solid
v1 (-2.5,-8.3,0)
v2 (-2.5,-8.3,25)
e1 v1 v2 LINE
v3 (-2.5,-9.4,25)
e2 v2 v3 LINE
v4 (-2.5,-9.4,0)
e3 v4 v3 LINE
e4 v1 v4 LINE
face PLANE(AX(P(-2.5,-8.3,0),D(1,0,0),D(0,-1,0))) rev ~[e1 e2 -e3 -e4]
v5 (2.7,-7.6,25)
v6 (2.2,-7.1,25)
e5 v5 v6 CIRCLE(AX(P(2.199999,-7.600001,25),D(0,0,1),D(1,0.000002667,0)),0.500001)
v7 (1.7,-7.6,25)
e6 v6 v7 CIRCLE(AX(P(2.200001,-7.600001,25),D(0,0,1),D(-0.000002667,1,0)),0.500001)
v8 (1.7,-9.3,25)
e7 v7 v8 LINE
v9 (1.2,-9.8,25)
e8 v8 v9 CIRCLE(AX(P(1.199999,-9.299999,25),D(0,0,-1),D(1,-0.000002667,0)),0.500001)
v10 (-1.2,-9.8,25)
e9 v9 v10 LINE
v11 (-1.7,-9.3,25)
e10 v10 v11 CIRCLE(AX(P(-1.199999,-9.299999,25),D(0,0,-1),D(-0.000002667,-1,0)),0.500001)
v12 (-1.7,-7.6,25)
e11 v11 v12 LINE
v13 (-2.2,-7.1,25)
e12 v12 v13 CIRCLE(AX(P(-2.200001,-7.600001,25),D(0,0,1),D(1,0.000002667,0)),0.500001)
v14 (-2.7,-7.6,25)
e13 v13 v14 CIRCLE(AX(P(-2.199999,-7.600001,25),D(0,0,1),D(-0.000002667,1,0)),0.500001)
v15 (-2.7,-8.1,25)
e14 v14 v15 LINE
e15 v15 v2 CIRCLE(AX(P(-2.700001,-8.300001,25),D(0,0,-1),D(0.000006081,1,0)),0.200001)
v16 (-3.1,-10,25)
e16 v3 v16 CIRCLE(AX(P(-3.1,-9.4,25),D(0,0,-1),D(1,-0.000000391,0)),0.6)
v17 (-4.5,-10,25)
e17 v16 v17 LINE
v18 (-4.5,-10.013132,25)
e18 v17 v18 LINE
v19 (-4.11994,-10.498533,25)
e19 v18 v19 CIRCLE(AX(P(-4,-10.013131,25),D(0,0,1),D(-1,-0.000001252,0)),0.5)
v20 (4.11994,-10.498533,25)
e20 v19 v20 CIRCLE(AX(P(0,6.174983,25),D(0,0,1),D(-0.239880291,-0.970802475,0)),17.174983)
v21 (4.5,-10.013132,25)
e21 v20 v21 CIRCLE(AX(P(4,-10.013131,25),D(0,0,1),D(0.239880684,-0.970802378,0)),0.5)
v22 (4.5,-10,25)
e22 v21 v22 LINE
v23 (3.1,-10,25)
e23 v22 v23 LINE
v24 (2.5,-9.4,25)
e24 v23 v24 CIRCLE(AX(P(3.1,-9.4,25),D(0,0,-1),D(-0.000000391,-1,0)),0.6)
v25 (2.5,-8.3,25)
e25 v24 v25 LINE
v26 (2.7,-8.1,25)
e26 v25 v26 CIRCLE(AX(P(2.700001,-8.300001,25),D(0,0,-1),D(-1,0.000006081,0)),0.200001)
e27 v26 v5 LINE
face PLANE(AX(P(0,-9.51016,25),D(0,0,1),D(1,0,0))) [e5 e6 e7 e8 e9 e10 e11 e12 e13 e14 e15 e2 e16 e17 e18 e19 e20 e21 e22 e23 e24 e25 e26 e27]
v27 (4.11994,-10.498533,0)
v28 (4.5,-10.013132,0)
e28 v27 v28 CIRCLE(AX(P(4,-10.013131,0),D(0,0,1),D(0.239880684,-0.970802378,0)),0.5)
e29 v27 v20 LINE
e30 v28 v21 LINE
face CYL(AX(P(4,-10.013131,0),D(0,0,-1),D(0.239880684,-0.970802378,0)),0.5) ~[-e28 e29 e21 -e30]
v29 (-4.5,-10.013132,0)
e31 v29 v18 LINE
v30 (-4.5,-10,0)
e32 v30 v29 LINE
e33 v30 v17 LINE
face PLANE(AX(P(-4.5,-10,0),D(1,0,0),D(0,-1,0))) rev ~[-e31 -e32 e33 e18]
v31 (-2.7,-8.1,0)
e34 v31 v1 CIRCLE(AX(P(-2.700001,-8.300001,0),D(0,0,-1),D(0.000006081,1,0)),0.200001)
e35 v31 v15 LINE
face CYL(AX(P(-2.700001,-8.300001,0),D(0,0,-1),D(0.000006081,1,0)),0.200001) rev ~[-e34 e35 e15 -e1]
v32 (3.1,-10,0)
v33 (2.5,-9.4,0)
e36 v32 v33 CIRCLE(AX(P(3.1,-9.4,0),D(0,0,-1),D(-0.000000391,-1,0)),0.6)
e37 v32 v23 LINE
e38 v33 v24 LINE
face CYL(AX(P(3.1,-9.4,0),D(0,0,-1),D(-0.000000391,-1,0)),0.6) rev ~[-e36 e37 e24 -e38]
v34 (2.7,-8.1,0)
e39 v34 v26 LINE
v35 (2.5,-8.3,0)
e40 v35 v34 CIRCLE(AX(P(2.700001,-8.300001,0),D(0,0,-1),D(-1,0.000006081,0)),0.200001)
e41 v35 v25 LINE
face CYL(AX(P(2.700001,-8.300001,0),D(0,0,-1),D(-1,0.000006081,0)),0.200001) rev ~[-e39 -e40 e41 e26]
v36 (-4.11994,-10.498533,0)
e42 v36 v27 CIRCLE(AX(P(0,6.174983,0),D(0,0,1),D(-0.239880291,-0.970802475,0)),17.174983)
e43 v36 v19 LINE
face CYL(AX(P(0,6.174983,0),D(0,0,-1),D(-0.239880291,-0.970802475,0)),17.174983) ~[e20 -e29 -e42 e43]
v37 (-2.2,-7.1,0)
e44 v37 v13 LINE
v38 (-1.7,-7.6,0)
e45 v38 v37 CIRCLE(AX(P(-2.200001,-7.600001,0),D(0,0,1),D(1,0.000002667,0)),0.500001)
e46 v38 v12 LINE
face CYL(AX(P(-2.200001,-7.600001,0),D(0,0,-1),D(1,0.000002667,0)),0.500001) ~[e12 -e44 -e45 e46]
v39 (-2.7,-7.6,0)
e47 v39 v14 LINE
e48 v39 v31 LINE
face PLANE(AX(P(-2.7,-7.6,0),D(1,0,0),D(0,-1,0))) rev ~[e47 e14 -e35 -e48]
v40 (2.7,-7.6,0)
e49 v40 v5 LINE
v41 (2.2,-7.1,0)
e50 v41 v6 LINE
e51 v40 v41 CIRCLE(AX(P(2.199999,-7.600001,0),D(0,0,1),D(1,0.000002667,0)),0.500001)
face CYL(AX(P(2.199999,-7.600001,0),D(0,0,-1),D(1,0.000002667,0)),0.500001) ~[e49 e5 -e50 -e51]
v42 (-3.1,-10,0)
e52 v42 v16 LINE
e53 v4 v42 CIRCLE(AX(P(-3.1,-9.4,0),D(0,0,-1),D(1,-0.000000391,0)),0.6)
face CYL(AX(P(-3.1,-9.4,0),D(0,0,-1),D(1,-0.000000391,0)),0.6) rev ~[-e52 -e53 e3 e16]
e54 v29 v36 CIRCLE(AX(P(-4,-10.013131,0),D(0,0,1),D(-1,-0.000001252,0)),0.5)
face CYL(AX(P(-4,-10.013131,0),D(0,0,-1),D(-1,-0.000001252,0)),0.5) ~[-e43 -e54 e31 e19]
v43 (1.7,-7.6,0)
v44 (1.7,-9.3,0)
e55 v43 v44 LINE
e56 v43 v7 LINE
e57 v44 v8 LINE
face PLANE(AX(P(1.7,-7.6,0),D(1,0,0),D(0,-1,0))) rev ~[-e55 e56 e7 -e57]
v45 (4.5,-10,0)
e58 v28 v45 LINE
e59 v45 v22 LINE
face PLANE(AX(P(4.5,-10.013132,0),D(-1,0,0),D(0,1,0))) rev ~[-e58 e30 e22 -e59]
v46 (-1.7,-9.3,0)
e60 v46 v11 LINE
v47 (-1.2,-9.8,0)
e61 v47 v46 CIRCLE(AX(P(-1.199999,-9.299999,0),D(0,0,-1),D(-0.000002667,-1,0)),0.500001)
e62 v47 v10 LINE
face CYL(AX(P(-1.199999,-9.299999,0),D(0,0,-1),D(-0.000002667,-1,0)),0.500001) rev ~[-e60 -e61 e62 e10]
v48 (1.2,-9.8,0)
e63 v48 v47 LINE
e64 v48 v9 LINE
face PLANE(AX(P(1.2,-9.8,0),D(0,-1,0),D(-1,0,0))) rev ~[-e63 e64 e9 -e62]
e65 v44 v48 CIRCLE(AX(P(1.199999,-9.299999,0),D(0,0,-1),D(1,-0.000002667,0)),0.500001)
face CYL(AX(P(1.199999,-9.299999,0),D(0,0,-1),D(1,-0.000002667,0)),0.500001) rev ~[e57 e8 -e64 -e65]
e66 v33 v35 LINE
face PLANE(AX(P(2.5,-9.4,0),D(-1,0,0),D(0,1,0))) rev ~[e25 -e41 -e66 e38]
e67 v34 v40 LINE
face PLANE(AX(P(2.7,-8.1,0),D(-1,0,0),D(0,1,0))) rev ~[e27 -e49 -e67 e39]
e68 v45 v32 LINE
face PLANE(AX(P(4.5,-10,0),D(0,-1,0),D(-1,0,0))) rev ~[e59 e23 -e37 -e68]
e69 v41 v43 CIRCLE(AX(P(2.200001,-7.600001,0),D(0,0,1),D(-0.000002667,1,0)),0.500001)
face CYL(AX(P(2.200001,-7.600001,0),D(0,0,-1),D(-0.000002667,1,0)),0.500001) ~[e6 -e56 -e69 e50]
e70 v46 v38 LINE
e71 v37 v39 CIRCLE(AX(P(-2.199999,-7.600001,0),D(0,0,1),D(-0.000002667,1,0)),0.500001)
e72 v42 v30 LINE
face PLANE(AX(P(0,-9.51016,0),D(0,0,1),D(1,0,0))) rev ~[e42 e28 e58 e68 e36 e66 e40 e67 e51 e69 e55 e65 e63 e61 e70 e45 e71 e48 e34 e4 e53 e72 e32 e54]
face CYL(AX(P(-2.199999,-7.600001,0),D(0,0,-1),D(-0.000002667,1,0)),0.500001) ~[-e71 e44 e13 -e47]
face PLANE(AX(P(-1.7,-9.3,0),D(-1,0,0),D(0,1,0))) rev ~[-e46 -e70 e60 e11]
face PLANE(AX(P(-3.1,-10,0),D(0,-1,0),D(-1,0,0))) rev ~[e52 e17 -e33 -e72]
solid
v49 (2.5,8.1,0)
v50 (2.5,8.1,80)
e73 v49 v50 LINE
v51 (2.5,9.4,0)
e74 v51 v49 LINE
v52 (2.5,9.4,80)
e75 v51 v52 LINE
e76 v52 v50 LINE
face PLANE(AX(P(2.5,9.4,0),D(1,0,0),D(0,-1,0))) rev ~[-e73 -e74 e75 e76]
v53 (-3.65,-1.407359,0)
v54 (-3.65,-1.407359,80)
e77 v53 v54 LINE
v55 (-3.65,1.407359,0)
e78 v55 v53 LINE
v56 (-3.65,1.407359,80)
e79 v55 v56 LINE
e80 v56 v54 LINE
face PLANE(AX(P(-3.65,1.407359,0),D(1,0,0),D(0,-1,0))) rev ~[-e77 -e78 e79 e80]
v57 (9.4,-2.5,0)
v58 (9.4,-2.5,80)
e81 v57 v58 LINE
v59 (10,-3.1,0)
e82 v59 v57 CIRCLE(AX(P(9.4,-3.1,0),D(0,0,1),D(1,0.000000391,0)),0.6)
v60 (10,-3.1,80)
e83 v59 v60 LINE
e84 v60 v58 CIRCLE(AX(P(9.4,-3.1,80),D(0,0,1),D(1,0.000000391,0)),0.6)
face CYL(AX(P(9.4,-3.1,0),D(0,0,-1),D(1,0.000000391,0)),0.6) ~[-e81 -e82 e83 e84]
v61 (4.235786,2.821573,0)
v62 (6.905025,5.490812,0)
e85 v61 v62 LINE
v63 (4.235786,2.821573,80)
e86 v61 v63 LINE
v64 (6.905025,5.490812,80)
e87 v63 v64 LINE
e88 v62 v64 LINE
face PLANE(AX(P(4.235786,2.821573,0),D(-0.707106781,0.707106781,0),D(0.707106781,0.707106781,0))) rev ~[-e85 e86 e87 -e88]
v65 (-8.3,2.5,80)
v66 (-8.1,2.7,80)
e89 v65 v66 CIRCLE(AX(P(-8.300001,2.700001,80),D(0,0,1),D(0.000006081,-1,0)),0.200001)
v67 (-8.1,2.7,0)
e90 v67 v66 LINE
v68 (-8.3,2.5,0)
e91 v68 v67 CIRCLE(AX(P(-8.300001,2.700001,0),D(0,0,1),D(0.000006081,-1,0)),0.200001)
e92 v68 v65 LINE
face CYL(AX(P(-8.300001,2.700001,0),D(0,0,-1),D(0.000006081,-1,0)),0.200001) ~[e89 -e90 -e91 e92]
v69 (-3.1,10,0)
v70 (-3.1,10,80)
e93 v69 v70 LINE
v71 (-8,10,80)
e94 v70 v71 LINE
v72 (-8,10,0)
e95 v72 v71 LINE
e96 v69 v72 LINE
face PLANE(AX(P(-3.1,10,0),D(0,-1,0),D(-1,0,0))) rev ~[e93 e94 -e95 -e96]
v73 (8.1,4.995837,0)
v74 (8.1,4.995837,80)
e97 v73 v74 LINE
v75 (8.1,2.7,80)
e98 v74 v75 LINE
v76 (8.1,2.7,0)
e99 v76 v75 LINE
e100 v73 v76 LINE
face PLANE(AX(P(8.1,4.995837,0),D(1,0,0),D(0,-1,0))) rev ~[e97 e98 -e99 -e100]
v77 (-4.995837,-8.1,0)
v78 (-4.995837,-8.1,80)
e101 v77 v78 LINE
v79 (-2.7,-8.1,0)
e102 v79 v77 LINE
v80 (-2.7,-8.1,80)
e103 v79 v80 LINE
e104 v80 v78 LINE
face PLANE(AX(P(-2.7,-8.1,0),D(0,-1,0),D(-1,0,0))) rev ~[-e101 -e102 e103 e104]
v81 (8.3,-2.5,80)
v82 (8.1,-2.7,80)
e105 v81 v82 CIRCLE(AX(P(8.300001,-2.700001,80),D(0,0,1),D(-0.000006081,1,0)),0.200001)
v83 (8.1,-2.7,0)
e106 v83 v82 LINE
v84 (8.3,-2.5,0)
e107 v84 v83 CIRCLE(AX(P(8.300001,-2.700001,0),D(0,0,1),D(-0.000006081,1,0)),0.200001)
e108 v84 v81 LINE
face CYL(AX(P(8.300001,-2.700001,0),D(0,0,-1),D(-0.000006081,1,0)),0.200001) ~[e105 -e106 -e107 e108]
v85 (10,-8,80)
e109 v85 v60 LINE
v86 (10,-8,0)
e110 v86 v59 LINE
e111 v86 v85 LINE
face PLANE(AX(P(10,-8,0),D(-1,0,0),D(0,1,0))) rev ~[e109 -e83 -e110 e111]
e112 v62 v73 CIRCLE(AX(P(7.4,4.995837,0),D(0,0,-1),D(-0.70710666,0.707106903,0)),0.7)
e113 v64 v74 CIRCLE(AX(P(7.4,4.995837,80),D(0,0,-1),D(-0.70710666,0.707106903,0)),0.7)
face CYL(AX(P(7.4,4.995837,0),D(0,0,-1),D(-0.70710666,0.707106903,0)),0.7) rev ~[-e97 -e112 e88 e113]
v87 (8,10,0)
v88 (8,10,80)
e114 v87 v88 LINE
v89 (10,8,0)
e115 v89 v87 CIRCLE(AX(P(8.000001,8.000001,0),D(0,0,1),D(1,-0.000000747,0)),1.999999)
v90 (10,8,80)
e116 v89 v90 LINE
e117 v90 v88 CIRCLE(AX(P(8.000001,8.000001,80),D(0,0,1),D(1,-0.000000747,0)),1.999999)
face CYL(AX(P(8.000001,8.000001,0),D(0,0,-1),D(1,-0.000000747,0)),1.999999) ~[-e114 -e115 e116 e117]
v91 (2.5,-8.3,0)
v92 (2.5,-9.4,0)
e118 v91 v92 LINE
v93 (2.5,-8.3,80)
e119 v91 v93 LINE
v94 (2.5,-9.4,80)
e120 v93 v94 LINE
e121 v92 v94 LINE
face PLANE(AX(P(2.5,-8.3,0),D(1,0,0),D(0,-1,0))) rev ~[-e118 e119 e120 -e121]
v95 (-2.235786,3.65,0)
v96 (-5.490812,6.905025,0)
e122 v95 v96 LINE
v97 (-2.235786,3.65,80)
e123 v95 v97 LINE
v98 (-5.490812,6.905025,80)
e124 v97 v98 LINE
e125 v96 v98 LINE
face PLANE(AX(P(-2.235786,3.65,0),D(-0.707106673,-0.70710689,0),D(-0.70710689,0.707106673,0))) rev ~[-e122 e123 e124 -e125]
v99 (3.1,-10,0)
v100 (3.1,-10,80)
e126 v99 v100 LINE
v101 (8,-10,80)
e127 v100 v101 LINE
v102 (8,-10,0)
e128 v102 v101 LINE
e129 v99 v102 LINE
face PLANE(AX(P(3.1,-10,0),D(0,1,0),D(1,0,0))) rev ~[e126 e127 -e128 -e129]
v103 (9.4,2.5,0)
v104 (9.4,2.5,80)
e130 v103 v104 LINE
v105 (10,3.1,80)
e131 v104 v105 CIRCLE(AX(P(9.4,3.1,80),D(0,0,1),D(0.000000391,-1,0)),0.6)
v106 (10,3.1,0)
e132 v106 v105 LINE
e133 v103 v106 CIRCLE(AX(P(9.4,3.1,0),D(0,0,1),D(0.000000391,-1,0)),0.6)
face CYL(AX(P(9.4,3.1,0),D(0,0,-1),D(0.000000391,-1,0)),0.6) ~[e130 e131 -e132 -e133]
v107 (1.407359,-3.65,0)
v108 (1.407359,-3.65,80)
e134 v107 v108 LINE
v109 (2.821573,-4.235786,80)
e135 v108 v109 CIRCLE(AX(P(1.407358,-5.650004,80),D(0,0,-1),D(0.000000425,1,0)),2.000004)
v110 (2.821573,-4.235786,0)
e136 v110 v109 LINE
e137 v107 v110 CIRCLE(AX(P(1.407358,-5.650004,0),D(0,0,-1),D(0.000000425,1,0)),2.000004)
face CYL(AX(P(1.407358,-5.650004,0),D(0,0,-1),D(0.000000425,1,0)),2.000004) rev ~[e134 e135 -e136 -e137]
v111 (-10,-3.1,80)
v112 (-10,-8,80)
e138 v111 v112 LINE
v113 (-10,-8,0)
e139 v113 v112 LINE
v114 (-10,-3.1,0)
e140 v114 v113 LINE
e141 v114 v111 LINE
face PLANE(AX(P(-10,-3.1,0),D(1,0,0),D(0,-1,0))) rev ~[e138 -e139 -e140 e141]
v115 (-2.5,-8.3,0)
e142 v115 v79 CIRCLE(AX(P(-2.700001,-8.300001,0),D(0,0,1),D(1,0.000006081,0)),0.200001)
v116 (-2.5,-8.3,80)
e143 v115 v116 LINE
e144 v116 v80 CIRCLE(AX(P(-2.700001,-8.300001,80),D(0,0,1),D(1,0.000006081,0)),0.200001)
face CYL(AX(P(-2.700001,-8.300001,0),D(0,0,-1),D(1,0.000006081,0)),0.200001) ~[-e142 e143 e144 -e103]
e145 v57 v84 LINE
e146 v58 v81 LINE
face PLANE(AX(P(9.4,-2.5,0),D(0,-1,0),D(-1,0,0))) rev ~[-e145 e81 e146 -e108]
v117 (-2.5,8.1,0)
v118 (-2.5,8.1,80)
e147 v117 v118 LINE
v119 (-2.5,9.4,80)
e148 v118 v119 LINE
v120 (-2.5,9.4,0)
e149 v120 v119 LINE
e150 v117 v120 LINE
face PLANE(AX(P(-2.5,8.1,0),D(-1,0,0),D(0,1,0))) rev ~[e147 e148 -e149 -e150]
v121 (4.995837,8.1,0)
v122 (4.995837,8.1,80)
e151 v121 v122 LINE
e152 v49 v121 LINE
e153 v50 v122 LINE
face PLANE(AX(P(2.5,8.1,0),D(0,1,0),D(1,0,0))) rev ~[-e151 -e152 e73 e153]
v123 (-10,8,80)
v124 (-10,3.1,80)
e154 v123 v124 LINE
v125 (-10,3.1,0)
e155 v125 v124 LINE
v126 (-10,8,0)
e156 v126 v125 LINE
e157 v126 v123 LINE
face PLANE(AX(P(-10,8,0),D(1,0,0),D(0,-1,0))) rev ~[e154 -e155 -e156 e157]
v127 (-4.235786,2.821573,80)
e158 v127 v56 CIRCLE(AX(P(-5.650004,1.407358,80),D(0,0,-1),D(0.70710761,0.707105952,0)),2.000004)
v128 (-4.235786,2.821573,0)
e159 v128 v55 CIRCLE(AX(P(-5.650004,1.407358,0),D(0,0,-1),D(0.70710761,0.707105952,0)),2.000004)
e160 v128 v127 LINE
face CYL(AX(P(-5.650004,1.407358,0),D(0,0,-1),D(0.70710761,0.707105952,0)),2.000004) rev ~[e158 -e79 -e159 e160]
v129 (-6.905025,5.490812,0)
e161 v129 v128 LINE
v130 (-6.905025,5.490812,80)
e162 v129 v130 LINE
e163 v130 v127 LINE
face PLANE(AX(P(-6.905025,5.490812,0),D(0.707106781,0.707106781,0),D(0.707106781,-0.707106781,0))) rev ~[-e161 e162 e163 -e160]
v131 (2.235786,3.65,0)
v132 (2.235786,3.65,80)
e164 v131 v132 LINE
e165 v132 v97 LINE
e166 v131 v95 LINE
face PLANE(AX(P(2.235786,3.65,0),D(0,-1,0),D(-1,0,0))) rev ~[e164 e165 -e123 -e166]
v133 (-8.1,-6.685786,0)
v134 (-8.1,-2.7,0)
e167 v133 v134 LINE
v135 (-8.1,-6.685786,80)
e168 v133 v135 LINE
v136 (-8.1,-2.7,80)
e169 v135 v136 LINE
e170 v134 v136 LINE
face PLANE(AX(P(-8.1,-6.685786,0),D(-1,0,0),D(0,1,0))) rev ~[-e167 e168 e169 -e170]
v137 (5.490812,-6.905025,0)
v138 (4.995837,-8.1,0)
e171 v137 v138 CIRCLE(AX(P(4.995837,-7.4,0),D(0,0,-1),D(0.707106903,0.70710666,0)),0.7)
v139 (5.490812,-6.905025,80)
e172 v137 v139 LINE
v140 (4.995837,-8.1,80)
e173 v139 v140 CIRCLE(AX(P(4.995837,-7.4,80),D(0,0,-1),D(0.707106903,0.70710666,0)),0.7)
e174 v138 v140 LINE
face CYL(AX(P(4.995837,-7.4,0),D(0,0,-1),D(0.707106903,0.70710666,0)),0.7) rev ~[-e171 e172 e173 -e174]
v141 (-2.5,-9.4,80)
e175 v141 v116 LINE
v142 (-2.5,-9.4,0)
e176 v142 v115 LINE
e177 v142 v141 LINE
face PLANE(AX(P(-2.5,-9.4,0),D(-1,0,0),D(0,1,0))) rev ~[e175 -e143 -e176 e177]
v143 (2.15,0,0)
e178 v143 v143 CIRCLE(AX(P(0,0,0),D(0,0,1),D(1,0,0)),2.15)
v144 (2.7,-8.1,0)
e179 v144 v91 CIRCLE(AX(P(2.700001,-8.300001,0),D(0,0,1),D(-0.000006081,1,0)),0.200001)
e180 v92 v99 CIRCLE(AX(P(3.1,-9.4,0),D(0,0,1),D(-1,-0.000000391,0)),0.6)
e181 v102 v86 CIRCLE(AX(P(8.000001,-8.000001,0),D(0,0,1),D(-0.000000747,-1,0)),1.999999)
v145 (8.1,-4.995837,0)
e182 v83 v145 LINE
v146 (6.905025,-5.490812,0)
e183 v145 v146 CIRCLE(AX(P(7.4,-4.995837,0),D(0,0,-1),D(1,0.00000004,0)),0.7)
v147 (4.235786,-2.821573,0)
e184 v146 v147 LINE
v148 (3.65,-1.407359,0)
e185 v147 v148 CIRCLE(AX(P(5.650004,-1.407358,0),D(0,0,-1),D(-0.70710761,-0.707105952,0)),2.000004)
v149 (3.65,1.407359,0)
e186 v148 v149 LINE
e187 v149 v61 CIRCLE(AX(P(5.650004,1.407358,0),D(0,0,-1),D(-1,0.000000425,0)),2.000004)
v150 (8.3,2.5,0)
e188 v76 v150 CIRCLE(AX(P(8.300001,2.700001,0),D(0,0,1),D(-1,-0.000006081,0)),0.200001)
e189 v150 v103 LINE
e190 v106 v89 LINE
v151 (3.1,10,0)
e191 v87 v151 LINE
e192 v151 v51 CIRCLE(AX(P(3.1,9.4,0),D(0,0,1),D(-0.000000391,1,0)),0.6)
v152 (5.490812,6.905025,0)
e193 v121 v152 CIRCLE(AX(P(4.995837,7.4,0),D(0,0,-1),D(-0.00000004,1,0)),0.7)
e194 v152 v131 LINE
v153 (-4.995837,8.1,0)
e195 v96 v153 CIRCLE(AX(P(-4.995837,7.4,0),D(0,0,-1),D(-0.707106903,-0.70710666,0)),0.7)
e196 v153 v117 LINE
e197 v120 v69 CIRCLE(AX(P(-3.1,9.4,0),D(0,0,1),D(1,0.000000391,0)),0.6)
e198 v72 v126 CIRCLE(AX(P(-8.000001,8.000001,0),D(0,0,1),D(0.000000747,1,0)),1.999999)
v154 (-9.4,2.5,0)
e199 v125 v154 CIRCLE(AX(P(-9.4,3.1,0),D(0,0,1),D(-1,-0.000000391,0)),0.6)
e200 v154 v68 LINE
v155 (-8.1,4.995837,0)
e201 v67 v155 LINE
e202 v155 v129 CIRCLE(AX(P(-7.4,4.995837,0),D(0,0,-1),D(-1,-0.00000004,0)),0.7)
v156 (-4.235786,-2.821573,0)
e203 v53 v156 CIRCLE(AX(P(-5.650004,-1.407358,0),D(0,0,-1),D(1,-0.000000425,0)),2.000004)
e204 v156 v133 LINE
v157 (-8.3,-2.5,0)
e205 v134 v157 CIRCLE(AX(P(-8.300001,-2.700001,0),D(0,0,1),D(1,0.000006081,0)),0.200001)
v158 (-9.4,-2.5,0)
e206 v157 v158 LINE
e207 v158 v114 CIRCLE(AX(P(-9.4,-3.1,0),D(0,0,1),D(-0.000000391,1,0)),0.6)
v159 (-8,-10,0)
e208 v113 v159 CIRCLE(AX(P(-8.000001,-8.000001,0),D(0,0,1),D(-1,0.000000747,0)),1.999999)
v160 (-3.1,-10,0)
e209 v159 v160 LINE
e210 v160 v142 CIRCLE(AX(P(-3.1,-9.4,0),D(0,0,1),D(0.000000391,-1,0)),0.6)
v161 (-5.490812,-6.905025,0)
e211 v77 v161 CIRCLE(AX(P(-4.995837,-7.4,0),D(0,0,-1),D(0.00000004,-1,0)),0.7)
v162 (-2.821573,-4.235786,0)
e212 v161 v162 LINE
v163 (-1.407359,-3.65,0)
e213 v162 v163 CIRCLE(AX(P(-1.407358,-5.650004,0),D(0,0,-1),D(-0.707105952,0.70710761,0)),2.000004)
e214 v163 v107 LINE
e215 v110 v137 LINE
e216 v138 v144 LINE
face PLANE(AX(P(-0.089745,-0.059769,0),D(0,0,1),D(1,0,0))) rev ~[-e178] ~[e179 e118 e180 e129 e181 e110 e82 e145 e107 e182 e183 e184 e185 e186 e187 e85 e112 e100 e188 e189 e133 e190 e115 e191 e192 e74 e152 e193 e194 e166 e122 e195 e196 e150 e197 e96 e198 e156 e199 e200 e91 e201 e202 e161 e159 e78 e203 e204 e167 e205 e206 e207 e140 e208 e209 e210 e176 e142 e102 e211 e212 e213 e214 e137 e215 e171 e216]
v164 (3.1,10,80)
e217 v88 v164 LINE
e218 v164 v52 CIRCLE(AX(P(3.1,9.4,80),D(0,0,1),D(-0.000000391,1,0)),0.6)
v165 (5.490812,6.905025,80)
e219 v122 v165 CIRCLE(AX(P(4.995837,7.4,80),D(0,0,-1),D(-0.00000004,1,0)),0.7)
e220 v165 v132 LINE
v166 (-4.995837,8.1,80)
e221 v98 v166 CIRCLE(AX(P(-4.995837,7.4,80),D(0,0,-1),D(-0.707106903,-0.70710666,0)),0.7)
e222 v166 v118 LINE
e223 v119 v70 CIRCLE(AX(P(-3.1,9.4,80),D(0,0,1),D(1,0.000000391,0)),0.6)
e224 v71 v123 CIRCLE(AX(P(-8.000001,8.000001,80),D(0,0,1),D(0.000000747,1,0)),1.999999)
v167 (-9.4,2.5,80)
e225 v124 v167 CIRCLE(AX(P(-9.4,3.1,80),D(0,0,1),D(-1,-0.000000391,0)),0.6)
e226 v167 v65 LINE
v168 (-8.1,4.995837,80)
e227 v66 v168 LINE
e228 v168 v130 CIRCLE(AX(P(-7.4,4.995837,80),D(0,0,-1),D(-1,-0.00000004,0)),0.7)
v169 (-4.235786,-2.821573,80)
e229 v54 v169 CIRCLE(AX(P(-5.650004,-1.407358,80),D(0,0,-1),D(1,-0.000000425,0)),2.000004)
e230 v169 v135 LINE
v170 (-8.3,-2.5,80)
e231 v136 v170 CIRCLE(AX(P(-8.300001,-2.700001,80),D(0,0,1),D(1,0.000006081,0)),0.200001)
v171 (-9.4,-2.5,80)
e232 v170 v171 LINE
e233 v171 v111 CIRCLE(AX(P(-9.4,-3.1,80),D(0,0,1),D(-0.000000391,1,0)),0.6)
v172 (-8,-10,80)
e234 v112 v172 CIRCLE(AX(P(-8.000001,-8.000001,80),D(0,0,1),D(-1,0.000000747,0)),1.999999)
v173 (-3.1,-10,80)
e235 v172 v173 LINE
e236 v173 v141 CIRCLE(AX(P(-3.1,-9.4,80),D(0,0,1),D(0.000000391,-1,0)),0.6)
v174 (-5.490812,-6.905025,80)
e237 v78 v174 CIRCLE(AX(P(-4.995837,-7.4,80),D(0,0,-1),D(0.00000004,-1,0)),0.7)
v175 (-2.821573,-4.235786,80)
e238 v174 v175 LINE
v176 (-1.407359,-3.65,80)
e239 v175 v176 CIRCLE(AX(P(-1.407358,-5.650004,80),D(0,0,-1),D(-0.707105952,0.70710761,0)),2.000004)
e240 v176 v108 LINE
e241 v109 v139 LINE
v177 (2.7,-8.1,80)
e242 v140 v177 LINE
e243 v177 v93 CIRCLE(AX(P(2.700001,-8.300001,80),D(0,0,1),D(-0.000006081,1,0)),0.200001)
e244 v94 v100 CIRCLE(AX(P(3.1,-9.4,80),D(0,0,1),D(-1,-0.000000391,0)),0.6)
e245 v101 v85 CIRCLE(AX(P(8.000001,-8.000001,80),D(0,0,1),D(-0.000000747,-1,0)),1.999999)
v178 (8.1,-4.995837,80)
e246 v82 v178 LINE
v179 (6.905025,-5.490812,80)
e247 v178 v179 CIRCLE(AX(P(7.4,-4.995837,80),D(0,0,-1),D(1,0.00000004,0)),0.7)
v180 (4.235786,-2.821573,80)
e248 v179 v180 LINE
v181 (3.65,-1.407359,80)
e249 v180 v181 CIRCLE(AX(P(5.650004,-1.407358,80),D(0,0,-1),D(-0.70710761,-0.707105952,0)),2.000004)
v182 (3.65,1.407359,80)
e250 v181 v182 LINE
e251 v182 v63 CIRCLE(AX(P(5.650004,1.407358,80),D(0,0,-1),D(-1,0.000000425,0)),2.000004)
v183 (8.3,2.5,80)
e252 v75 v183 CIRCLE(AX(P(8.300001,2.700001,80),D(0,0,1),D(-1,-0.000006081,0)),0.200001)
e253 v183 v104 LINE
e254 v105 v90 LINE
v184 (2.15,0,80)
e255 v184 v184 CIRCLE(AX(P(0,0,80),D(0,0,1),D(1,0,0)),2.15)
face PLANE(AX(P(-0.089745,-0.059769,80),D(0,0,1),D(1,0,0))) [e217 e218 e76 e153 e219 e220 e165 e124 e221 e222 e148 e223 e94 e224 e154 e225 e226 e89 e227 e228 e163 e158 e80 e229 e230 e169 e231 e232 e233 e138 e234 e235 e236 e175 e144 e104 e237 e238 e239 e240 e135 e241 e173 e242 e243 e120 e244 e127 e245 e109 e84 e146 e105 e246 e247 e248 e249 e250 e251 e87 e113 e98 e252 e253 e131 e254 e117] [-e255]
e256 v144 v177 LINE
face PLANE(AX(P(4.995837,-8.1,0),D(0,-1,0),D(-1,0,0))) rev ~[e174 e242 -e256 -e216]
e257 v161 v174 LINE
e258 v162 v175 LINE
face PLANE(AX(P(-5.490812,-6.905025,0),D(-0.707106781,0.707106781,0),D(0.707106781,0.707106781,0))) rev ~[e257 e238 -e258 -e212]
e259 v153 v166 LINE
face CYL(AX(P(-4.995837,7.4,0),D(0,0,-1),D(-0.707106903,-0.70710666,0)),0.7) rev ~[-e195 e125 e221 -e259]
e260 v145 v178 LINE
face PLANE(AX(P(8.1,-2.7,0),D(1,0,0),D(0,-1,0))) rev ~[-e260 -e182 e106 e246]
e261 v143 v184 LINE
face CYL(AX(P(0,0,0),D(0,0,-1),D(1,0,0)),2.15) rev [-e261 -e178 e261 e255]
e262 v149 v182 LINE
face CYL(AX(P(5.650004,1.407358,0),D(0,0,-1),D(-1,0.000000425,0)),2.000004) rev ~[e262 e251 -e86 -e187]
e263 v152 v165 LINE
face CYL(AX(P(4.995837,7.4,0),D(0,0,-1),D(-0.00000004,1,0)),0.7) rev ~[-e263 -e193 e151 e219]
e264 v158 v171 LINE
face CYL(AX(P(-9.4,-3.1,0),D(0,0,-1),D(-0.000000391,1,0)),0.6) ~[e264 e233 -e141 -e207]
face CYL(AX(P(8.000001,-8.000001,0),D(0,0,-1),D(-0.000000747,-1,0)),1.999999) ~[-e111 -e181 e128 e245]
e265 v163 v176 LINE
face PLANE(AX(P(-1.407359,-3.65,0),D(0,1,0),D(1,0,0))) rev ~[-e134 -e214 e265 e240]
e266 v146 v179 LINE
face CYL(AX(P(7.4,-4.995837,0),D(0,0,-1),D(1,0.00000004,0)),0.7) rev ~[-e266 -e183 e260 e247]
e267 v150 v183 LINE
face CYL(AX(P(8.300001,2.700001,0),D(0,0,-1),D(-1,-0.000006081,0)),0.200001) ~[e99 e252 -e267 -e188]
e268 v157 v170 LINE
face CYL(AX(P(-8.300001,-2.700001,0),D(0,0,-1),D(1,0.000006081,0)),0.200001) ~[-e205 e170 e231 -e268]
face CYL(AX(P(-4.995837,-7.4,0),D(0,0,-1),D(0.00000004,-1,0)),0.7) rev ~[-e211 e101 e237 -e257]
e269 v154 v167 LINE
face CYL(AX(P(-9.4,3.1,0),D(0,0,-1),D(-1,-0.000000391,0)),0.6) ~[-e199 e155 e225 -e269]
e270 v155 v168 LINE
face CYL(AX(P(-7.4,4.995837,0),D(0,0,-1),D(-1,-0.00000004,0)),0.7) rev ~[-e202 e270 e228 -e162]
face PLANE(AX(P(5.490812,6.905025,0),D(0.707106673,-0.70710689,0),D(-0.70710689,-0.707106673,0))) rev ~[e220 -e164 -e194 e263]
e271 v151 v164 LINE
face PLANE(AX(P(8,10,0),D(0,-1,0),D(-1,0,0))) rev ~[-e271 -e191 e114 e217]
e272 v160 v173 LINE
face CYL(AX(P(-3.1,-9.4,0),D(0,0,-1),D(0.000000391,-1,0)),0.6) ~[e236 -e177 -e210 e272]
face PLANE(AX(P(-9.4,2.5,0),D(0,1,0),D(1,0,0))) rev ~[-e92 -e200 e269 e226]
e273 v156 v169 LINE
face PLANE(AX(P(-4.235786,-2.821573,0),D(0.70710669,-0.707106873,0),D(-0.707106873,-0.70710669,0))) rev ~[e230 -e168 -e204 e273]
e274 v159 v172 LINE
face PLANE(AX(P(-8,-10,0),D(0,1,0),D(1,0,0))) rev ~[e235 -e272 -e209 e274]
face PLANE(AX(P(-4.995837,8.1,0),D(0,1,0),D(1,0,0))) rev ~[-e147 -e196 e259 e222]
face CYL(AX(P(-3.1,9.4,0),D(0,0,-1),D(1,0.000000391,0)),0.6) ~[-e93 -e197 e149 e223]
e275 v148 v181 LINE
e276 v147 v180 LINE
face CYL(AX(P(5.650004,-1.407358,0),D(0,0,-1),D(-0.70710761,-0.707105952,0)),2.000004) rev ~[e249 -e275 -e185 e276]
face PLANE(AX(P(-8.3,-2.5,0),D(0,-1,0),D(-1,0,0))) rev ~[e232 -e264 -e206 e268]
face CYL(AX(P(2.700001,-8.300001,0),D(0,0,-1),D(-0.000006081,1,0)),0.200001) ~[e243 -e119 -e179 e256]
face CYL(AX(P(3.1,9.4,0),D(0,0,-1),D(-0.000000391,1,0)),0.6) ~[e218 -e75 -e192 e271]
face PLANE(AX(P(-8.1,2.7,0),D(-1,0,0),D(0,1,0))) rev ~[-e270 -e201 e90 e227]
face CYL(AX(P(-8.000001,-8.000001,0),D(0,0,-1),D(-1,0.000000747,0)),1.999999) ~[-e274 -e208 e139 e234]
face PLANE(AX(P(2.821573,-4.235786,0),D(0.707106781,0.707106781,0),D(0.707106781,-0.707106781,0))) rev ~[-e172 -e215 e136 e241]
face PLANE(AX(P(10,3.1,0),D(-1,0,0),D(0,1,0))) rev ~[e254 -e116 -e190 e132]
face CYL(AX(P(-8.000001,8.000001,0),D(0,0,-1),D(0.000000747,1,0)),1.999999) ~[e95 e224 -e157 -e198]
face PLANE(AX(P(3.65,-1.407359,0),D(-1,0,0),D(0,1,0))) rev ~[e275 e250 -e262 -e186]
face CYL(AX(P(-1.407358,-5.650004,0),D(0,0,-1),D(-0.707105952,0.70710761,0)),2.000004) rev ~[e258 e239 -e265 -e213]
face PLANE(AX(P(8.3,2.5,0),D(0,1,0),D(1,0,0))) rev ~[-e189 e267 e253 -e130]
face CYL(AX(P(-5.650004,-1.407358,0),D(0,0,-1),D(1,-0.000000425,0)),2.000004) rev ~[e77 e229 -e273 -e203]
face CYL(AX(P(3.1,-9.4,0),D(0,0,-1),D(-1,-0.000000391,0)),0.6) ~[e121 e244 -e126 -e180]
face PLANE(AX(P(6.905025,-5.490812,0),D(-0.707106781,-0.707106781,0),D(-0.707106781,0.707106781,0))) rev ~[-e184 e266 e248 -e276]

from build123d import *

# Parameters (mm, degrees)
F0_R     = 2.15
F1_DEPTH = 80
F3_DEPTH = 25


with BuildPart() as f1:
    # F0 (on Top) → F1 (new body)
    with BuildSketch(Plane.XY):
        with BuildLine():
            Line((-3.1, 10), (-8, 10))
            ThreePointArc((-8, 10), (-9.414214, 9.414214), (-10, 8))
            Line((-10, 8), (-10, 3.1))
            ThreePointArc((-10, 3.1), (-9.824264, 2.675736), (-9.4, 2.5))
            Line((-9.4, 2.5), (-8.3, 2.5))
            ThreePointArc((-8.3, 2.5), (-8.158579, 2.558579), (-8.1, 2.7))
            Line((-8.1, 2.7), (-8.1, 4.995837))
            ThreePointArc((-8.1, 4.995837), (-7.667878, 5.642553), (-6.905025, 5.490812))
            Line((-6.905025, 5.490812), (-4.235786, 2.821573))
            ThreePointArc((-4.235786, 2.821573), (-3.802241, 2.172726), (-3.65, 1.407359))
            Line((-3.65, 1.407359), (-3.65, -1.407359))
            ThreePointArc((-3.65, -1.407359), (-3.802241, -2.172726), (-4.235786, -2.821573))
            Line((-4.235786, -2.821573), (-8.1, -6.685786))
            Line((-8.1, -6.685786), (-8.1, -2.7))
            ThreePointArc((-8.1, -2.7), (-8.158579, -2.558579), (-8.3, -2.5))
            Line((-8.3, -2.5), (-9.4, -2.5))
            ThreePointArc((-9.4, -2.5), (-9.824264, -2.675736), (-10, -3.1))
            Line((-10, -3.1), (-10, -8))
            ThreePointArc((-10, -8), (-9.414214, -9.414214), (-8, -10))
            Line((-8, -10), (-3.1, -10))
            ThreePointArc((-3.1, -10), (-2.675736, -9.824264), (-2.5, -9.4))
            Line((-2.5, -9.4), (-2.5, -8.3))
            ThreePointArc((-2.5, -8.3), (-2.558579, -8.158579), (-2.7, -8.1))
            Line((-2.7, -8.1), (-4.995837, -8.1))
            ThreePointArc((-4.995837, -8.1), (-5.642553, -7.667878), (-5.490812, -6.905025))
            Line((-5.490812, -6.905025), (-2.821573, -4.235786))
            ThreePointArc((-2.821573, -4.235786), (-2.172726, -3.802241), (-1.407359, -3.65))
            Line((-1.407359, -3.65), (1.407359, -3.65))
            ThreePointArc((1.407359, -3.65), (2.172726, -3.802241), (2.821573, -4.235786))
            Line((2.821573, -4.235786), (5.490812, -6.905025))
            ThreePointArc((5.490812, -6.905025), (5.642553, -7.667878), (4.995837, -8.1))
            Line((4.995837, -8.1), (2.7, -8.1))
            ThreePointArc((2.7, -8.1), (2.558579, -8.158579), (2.5, -8.3))
            Line((2.5, -8.3), (2.5, -9.4))
            ThreePointArc((2.5, -9.4), (2.675736, -9.824264), (3.1, -10))
            Line((3.1, -10), (8, -10))
            ThreePointArc((8, -10), (9.414214, -9.414214), (10, -8))
            Line((10, -8), (10, -3.1))
            ThreePointArc((10, -3.1), (9.824264, -2.675736), (9.4, -2.5))
            Line((9.4, -2.5), (8.3, -2.5))
            ThreePointArc((8.3, -2.5), (8.158579, -2.558579), (8.1, -2.7))
            Line((8.1, -2.7), (8.1, -4.995837))
            ThreePointArc((8.1, -4.995837), (7.667878, -5.642553), (6.905025, -5.490812))
            Line((6.905025, -5.490812), (4.235786, -2.821573))
            ThreePointArc((4.235786, -2.821573), (3.802241, -2.172726), (3.65, -1.407359))
            Line((3.65, -1.407359), (3.65, 1.407359))
            ThreePointArc((3.65, 1.407359), (3.802241, 2.172726), (4.235786, 2.821573))
            Line((4.235786, 2.821573), (6.905025, 5.490812))
            ThreePointArc((6.905025, 5.490812), (7.667878, 5.642553), (8.1, 4.995837))
            Line((8.1, 4.995837), (8.1, 2.7))
            ThreePointArc((8.1, 2.7), (8.158579, 2.558579), (8.3, 2.5))
            Line((8.3, 2.5), (9.4, 2.5))
            ThreePointArc((9.4, 2.5), (9.824264, 2.675736), (10, 3.1))
            Line((10, 3.1), (10, 8))
            ThreePointArc((10, 8), (9.414214, 9.414214), (8, 10))
            Line((8, 10), (3.1, 10))
            ThreePointArc((3.1, 10), (2.675736, 9.824264), (2.5, 9.4))
            Line((2.5, 9.4), (2.5, 8.1))
            Line((2.5, 8.1), (4.995837, 8.1))
            ThreePointArc((4.995837, 8.1), (5.642553, 7.667878), (5.490812, 6.905025))
            Line((5.490812, 6.905025), (2.235786, 3.65))
            Line((2.235786, 3.65), (-2.235786, 3.65))
            Line((-2.235786, 3.65), (-5.490812, 6.905025))
            ThreePointArc((-5.490812, 6.905025), (-5.642553, 7.667878), (-4.995837, 8.1))
            Line((-4.995837, 8.1), (-2.5, 8.1))
            Line((-2.5, 8.1), (-2.5, 9.4))
            ThreePointArc((-2.5, 9.4), (-2.675736, 9.824264), (-3.1, 10))
        make_face()
        Circle(F0_R, mode=Mode.SUBTRACT)
    extrude(amount=F1_DEPTH)


with BuildPart() as f3:
    # F2 (on Top) → F3 (new body)
    with BuildSketch(Plane.XY):
        with BuildLine():
            Line((-2.5, -8.3), (-2.5, -9.4))
            ThreePointArc((-2.5, -9.4), (-2.675736, -9.824264), (-3.1, -10))
            Line((-3.1, -10), (-4.5, -10))
            Line((-4.5, -10), (-4.5, -10.013132))
            ThreePointArc((-4.5, -10.013132), (-4.393681, -10.321377), (-4.11994, -10.498533))
            ThreePointArc((-4.11994, -10.498533), (0, -11), (4.11994, -10.498533))
            ThreePointArc((4.11994, -10.498533), (4.393681, -10.321377), (4.5, -10.013132))
            Line((4.5, -10.013132), (4.5, -10))
            Line((4.5, -10), (3.1, -10))
            ThreePointArc((3.1, -10), (2.675736, -9.824264), (2.5, -9.4))
            Line((2.5, -9.4), (2.5, -8.3))
            ThreePointArc((2.5, -8.3), (2.558579, -8.158579), (2.7, -8.1))
            Line((2.7, -8.1), (2.7, -7.6))
            ThreePointArc((2.7, -7.6), (2.553553, -7.246447), (2.2, -7.1))
            ThreePointArc((2.2, -7.1), (1.846447, -7.246447), (1.7, -7.6))
            Line((1.7, -7.6), (1.7, -9.3))
            ThreePointArc((1.7, -9.3), (1.553553, -9.653553), (1.2, -9.8))
            Line((1.2, -9.8), (-1.2, -9.8))
            ThreePointArc((-1.2, -9.8), (-1.553553, -9.653553), (-1.7, -9.3))
            Line((-1.7, -9.3), (-1.7, -7.6))
            ThreePointArc((-1.7, -7.6), (-1.846447, -7.246447), (-2.2, -7.1))
            ThreePointArc((-2.2, -7.1), (-2.553553, -7.246447), (-2.7, -7.6))
            Line((-2.7, -7.6), (-2.7, -8.1))
            ThreePointArc((-2.7, -8.1), (-2.558579, -8.158579), (-2.5, -8.3))
        make_face()
    extrude(amount=F3_DEPTH)


solid = Compound([f1.part, f3.part])
